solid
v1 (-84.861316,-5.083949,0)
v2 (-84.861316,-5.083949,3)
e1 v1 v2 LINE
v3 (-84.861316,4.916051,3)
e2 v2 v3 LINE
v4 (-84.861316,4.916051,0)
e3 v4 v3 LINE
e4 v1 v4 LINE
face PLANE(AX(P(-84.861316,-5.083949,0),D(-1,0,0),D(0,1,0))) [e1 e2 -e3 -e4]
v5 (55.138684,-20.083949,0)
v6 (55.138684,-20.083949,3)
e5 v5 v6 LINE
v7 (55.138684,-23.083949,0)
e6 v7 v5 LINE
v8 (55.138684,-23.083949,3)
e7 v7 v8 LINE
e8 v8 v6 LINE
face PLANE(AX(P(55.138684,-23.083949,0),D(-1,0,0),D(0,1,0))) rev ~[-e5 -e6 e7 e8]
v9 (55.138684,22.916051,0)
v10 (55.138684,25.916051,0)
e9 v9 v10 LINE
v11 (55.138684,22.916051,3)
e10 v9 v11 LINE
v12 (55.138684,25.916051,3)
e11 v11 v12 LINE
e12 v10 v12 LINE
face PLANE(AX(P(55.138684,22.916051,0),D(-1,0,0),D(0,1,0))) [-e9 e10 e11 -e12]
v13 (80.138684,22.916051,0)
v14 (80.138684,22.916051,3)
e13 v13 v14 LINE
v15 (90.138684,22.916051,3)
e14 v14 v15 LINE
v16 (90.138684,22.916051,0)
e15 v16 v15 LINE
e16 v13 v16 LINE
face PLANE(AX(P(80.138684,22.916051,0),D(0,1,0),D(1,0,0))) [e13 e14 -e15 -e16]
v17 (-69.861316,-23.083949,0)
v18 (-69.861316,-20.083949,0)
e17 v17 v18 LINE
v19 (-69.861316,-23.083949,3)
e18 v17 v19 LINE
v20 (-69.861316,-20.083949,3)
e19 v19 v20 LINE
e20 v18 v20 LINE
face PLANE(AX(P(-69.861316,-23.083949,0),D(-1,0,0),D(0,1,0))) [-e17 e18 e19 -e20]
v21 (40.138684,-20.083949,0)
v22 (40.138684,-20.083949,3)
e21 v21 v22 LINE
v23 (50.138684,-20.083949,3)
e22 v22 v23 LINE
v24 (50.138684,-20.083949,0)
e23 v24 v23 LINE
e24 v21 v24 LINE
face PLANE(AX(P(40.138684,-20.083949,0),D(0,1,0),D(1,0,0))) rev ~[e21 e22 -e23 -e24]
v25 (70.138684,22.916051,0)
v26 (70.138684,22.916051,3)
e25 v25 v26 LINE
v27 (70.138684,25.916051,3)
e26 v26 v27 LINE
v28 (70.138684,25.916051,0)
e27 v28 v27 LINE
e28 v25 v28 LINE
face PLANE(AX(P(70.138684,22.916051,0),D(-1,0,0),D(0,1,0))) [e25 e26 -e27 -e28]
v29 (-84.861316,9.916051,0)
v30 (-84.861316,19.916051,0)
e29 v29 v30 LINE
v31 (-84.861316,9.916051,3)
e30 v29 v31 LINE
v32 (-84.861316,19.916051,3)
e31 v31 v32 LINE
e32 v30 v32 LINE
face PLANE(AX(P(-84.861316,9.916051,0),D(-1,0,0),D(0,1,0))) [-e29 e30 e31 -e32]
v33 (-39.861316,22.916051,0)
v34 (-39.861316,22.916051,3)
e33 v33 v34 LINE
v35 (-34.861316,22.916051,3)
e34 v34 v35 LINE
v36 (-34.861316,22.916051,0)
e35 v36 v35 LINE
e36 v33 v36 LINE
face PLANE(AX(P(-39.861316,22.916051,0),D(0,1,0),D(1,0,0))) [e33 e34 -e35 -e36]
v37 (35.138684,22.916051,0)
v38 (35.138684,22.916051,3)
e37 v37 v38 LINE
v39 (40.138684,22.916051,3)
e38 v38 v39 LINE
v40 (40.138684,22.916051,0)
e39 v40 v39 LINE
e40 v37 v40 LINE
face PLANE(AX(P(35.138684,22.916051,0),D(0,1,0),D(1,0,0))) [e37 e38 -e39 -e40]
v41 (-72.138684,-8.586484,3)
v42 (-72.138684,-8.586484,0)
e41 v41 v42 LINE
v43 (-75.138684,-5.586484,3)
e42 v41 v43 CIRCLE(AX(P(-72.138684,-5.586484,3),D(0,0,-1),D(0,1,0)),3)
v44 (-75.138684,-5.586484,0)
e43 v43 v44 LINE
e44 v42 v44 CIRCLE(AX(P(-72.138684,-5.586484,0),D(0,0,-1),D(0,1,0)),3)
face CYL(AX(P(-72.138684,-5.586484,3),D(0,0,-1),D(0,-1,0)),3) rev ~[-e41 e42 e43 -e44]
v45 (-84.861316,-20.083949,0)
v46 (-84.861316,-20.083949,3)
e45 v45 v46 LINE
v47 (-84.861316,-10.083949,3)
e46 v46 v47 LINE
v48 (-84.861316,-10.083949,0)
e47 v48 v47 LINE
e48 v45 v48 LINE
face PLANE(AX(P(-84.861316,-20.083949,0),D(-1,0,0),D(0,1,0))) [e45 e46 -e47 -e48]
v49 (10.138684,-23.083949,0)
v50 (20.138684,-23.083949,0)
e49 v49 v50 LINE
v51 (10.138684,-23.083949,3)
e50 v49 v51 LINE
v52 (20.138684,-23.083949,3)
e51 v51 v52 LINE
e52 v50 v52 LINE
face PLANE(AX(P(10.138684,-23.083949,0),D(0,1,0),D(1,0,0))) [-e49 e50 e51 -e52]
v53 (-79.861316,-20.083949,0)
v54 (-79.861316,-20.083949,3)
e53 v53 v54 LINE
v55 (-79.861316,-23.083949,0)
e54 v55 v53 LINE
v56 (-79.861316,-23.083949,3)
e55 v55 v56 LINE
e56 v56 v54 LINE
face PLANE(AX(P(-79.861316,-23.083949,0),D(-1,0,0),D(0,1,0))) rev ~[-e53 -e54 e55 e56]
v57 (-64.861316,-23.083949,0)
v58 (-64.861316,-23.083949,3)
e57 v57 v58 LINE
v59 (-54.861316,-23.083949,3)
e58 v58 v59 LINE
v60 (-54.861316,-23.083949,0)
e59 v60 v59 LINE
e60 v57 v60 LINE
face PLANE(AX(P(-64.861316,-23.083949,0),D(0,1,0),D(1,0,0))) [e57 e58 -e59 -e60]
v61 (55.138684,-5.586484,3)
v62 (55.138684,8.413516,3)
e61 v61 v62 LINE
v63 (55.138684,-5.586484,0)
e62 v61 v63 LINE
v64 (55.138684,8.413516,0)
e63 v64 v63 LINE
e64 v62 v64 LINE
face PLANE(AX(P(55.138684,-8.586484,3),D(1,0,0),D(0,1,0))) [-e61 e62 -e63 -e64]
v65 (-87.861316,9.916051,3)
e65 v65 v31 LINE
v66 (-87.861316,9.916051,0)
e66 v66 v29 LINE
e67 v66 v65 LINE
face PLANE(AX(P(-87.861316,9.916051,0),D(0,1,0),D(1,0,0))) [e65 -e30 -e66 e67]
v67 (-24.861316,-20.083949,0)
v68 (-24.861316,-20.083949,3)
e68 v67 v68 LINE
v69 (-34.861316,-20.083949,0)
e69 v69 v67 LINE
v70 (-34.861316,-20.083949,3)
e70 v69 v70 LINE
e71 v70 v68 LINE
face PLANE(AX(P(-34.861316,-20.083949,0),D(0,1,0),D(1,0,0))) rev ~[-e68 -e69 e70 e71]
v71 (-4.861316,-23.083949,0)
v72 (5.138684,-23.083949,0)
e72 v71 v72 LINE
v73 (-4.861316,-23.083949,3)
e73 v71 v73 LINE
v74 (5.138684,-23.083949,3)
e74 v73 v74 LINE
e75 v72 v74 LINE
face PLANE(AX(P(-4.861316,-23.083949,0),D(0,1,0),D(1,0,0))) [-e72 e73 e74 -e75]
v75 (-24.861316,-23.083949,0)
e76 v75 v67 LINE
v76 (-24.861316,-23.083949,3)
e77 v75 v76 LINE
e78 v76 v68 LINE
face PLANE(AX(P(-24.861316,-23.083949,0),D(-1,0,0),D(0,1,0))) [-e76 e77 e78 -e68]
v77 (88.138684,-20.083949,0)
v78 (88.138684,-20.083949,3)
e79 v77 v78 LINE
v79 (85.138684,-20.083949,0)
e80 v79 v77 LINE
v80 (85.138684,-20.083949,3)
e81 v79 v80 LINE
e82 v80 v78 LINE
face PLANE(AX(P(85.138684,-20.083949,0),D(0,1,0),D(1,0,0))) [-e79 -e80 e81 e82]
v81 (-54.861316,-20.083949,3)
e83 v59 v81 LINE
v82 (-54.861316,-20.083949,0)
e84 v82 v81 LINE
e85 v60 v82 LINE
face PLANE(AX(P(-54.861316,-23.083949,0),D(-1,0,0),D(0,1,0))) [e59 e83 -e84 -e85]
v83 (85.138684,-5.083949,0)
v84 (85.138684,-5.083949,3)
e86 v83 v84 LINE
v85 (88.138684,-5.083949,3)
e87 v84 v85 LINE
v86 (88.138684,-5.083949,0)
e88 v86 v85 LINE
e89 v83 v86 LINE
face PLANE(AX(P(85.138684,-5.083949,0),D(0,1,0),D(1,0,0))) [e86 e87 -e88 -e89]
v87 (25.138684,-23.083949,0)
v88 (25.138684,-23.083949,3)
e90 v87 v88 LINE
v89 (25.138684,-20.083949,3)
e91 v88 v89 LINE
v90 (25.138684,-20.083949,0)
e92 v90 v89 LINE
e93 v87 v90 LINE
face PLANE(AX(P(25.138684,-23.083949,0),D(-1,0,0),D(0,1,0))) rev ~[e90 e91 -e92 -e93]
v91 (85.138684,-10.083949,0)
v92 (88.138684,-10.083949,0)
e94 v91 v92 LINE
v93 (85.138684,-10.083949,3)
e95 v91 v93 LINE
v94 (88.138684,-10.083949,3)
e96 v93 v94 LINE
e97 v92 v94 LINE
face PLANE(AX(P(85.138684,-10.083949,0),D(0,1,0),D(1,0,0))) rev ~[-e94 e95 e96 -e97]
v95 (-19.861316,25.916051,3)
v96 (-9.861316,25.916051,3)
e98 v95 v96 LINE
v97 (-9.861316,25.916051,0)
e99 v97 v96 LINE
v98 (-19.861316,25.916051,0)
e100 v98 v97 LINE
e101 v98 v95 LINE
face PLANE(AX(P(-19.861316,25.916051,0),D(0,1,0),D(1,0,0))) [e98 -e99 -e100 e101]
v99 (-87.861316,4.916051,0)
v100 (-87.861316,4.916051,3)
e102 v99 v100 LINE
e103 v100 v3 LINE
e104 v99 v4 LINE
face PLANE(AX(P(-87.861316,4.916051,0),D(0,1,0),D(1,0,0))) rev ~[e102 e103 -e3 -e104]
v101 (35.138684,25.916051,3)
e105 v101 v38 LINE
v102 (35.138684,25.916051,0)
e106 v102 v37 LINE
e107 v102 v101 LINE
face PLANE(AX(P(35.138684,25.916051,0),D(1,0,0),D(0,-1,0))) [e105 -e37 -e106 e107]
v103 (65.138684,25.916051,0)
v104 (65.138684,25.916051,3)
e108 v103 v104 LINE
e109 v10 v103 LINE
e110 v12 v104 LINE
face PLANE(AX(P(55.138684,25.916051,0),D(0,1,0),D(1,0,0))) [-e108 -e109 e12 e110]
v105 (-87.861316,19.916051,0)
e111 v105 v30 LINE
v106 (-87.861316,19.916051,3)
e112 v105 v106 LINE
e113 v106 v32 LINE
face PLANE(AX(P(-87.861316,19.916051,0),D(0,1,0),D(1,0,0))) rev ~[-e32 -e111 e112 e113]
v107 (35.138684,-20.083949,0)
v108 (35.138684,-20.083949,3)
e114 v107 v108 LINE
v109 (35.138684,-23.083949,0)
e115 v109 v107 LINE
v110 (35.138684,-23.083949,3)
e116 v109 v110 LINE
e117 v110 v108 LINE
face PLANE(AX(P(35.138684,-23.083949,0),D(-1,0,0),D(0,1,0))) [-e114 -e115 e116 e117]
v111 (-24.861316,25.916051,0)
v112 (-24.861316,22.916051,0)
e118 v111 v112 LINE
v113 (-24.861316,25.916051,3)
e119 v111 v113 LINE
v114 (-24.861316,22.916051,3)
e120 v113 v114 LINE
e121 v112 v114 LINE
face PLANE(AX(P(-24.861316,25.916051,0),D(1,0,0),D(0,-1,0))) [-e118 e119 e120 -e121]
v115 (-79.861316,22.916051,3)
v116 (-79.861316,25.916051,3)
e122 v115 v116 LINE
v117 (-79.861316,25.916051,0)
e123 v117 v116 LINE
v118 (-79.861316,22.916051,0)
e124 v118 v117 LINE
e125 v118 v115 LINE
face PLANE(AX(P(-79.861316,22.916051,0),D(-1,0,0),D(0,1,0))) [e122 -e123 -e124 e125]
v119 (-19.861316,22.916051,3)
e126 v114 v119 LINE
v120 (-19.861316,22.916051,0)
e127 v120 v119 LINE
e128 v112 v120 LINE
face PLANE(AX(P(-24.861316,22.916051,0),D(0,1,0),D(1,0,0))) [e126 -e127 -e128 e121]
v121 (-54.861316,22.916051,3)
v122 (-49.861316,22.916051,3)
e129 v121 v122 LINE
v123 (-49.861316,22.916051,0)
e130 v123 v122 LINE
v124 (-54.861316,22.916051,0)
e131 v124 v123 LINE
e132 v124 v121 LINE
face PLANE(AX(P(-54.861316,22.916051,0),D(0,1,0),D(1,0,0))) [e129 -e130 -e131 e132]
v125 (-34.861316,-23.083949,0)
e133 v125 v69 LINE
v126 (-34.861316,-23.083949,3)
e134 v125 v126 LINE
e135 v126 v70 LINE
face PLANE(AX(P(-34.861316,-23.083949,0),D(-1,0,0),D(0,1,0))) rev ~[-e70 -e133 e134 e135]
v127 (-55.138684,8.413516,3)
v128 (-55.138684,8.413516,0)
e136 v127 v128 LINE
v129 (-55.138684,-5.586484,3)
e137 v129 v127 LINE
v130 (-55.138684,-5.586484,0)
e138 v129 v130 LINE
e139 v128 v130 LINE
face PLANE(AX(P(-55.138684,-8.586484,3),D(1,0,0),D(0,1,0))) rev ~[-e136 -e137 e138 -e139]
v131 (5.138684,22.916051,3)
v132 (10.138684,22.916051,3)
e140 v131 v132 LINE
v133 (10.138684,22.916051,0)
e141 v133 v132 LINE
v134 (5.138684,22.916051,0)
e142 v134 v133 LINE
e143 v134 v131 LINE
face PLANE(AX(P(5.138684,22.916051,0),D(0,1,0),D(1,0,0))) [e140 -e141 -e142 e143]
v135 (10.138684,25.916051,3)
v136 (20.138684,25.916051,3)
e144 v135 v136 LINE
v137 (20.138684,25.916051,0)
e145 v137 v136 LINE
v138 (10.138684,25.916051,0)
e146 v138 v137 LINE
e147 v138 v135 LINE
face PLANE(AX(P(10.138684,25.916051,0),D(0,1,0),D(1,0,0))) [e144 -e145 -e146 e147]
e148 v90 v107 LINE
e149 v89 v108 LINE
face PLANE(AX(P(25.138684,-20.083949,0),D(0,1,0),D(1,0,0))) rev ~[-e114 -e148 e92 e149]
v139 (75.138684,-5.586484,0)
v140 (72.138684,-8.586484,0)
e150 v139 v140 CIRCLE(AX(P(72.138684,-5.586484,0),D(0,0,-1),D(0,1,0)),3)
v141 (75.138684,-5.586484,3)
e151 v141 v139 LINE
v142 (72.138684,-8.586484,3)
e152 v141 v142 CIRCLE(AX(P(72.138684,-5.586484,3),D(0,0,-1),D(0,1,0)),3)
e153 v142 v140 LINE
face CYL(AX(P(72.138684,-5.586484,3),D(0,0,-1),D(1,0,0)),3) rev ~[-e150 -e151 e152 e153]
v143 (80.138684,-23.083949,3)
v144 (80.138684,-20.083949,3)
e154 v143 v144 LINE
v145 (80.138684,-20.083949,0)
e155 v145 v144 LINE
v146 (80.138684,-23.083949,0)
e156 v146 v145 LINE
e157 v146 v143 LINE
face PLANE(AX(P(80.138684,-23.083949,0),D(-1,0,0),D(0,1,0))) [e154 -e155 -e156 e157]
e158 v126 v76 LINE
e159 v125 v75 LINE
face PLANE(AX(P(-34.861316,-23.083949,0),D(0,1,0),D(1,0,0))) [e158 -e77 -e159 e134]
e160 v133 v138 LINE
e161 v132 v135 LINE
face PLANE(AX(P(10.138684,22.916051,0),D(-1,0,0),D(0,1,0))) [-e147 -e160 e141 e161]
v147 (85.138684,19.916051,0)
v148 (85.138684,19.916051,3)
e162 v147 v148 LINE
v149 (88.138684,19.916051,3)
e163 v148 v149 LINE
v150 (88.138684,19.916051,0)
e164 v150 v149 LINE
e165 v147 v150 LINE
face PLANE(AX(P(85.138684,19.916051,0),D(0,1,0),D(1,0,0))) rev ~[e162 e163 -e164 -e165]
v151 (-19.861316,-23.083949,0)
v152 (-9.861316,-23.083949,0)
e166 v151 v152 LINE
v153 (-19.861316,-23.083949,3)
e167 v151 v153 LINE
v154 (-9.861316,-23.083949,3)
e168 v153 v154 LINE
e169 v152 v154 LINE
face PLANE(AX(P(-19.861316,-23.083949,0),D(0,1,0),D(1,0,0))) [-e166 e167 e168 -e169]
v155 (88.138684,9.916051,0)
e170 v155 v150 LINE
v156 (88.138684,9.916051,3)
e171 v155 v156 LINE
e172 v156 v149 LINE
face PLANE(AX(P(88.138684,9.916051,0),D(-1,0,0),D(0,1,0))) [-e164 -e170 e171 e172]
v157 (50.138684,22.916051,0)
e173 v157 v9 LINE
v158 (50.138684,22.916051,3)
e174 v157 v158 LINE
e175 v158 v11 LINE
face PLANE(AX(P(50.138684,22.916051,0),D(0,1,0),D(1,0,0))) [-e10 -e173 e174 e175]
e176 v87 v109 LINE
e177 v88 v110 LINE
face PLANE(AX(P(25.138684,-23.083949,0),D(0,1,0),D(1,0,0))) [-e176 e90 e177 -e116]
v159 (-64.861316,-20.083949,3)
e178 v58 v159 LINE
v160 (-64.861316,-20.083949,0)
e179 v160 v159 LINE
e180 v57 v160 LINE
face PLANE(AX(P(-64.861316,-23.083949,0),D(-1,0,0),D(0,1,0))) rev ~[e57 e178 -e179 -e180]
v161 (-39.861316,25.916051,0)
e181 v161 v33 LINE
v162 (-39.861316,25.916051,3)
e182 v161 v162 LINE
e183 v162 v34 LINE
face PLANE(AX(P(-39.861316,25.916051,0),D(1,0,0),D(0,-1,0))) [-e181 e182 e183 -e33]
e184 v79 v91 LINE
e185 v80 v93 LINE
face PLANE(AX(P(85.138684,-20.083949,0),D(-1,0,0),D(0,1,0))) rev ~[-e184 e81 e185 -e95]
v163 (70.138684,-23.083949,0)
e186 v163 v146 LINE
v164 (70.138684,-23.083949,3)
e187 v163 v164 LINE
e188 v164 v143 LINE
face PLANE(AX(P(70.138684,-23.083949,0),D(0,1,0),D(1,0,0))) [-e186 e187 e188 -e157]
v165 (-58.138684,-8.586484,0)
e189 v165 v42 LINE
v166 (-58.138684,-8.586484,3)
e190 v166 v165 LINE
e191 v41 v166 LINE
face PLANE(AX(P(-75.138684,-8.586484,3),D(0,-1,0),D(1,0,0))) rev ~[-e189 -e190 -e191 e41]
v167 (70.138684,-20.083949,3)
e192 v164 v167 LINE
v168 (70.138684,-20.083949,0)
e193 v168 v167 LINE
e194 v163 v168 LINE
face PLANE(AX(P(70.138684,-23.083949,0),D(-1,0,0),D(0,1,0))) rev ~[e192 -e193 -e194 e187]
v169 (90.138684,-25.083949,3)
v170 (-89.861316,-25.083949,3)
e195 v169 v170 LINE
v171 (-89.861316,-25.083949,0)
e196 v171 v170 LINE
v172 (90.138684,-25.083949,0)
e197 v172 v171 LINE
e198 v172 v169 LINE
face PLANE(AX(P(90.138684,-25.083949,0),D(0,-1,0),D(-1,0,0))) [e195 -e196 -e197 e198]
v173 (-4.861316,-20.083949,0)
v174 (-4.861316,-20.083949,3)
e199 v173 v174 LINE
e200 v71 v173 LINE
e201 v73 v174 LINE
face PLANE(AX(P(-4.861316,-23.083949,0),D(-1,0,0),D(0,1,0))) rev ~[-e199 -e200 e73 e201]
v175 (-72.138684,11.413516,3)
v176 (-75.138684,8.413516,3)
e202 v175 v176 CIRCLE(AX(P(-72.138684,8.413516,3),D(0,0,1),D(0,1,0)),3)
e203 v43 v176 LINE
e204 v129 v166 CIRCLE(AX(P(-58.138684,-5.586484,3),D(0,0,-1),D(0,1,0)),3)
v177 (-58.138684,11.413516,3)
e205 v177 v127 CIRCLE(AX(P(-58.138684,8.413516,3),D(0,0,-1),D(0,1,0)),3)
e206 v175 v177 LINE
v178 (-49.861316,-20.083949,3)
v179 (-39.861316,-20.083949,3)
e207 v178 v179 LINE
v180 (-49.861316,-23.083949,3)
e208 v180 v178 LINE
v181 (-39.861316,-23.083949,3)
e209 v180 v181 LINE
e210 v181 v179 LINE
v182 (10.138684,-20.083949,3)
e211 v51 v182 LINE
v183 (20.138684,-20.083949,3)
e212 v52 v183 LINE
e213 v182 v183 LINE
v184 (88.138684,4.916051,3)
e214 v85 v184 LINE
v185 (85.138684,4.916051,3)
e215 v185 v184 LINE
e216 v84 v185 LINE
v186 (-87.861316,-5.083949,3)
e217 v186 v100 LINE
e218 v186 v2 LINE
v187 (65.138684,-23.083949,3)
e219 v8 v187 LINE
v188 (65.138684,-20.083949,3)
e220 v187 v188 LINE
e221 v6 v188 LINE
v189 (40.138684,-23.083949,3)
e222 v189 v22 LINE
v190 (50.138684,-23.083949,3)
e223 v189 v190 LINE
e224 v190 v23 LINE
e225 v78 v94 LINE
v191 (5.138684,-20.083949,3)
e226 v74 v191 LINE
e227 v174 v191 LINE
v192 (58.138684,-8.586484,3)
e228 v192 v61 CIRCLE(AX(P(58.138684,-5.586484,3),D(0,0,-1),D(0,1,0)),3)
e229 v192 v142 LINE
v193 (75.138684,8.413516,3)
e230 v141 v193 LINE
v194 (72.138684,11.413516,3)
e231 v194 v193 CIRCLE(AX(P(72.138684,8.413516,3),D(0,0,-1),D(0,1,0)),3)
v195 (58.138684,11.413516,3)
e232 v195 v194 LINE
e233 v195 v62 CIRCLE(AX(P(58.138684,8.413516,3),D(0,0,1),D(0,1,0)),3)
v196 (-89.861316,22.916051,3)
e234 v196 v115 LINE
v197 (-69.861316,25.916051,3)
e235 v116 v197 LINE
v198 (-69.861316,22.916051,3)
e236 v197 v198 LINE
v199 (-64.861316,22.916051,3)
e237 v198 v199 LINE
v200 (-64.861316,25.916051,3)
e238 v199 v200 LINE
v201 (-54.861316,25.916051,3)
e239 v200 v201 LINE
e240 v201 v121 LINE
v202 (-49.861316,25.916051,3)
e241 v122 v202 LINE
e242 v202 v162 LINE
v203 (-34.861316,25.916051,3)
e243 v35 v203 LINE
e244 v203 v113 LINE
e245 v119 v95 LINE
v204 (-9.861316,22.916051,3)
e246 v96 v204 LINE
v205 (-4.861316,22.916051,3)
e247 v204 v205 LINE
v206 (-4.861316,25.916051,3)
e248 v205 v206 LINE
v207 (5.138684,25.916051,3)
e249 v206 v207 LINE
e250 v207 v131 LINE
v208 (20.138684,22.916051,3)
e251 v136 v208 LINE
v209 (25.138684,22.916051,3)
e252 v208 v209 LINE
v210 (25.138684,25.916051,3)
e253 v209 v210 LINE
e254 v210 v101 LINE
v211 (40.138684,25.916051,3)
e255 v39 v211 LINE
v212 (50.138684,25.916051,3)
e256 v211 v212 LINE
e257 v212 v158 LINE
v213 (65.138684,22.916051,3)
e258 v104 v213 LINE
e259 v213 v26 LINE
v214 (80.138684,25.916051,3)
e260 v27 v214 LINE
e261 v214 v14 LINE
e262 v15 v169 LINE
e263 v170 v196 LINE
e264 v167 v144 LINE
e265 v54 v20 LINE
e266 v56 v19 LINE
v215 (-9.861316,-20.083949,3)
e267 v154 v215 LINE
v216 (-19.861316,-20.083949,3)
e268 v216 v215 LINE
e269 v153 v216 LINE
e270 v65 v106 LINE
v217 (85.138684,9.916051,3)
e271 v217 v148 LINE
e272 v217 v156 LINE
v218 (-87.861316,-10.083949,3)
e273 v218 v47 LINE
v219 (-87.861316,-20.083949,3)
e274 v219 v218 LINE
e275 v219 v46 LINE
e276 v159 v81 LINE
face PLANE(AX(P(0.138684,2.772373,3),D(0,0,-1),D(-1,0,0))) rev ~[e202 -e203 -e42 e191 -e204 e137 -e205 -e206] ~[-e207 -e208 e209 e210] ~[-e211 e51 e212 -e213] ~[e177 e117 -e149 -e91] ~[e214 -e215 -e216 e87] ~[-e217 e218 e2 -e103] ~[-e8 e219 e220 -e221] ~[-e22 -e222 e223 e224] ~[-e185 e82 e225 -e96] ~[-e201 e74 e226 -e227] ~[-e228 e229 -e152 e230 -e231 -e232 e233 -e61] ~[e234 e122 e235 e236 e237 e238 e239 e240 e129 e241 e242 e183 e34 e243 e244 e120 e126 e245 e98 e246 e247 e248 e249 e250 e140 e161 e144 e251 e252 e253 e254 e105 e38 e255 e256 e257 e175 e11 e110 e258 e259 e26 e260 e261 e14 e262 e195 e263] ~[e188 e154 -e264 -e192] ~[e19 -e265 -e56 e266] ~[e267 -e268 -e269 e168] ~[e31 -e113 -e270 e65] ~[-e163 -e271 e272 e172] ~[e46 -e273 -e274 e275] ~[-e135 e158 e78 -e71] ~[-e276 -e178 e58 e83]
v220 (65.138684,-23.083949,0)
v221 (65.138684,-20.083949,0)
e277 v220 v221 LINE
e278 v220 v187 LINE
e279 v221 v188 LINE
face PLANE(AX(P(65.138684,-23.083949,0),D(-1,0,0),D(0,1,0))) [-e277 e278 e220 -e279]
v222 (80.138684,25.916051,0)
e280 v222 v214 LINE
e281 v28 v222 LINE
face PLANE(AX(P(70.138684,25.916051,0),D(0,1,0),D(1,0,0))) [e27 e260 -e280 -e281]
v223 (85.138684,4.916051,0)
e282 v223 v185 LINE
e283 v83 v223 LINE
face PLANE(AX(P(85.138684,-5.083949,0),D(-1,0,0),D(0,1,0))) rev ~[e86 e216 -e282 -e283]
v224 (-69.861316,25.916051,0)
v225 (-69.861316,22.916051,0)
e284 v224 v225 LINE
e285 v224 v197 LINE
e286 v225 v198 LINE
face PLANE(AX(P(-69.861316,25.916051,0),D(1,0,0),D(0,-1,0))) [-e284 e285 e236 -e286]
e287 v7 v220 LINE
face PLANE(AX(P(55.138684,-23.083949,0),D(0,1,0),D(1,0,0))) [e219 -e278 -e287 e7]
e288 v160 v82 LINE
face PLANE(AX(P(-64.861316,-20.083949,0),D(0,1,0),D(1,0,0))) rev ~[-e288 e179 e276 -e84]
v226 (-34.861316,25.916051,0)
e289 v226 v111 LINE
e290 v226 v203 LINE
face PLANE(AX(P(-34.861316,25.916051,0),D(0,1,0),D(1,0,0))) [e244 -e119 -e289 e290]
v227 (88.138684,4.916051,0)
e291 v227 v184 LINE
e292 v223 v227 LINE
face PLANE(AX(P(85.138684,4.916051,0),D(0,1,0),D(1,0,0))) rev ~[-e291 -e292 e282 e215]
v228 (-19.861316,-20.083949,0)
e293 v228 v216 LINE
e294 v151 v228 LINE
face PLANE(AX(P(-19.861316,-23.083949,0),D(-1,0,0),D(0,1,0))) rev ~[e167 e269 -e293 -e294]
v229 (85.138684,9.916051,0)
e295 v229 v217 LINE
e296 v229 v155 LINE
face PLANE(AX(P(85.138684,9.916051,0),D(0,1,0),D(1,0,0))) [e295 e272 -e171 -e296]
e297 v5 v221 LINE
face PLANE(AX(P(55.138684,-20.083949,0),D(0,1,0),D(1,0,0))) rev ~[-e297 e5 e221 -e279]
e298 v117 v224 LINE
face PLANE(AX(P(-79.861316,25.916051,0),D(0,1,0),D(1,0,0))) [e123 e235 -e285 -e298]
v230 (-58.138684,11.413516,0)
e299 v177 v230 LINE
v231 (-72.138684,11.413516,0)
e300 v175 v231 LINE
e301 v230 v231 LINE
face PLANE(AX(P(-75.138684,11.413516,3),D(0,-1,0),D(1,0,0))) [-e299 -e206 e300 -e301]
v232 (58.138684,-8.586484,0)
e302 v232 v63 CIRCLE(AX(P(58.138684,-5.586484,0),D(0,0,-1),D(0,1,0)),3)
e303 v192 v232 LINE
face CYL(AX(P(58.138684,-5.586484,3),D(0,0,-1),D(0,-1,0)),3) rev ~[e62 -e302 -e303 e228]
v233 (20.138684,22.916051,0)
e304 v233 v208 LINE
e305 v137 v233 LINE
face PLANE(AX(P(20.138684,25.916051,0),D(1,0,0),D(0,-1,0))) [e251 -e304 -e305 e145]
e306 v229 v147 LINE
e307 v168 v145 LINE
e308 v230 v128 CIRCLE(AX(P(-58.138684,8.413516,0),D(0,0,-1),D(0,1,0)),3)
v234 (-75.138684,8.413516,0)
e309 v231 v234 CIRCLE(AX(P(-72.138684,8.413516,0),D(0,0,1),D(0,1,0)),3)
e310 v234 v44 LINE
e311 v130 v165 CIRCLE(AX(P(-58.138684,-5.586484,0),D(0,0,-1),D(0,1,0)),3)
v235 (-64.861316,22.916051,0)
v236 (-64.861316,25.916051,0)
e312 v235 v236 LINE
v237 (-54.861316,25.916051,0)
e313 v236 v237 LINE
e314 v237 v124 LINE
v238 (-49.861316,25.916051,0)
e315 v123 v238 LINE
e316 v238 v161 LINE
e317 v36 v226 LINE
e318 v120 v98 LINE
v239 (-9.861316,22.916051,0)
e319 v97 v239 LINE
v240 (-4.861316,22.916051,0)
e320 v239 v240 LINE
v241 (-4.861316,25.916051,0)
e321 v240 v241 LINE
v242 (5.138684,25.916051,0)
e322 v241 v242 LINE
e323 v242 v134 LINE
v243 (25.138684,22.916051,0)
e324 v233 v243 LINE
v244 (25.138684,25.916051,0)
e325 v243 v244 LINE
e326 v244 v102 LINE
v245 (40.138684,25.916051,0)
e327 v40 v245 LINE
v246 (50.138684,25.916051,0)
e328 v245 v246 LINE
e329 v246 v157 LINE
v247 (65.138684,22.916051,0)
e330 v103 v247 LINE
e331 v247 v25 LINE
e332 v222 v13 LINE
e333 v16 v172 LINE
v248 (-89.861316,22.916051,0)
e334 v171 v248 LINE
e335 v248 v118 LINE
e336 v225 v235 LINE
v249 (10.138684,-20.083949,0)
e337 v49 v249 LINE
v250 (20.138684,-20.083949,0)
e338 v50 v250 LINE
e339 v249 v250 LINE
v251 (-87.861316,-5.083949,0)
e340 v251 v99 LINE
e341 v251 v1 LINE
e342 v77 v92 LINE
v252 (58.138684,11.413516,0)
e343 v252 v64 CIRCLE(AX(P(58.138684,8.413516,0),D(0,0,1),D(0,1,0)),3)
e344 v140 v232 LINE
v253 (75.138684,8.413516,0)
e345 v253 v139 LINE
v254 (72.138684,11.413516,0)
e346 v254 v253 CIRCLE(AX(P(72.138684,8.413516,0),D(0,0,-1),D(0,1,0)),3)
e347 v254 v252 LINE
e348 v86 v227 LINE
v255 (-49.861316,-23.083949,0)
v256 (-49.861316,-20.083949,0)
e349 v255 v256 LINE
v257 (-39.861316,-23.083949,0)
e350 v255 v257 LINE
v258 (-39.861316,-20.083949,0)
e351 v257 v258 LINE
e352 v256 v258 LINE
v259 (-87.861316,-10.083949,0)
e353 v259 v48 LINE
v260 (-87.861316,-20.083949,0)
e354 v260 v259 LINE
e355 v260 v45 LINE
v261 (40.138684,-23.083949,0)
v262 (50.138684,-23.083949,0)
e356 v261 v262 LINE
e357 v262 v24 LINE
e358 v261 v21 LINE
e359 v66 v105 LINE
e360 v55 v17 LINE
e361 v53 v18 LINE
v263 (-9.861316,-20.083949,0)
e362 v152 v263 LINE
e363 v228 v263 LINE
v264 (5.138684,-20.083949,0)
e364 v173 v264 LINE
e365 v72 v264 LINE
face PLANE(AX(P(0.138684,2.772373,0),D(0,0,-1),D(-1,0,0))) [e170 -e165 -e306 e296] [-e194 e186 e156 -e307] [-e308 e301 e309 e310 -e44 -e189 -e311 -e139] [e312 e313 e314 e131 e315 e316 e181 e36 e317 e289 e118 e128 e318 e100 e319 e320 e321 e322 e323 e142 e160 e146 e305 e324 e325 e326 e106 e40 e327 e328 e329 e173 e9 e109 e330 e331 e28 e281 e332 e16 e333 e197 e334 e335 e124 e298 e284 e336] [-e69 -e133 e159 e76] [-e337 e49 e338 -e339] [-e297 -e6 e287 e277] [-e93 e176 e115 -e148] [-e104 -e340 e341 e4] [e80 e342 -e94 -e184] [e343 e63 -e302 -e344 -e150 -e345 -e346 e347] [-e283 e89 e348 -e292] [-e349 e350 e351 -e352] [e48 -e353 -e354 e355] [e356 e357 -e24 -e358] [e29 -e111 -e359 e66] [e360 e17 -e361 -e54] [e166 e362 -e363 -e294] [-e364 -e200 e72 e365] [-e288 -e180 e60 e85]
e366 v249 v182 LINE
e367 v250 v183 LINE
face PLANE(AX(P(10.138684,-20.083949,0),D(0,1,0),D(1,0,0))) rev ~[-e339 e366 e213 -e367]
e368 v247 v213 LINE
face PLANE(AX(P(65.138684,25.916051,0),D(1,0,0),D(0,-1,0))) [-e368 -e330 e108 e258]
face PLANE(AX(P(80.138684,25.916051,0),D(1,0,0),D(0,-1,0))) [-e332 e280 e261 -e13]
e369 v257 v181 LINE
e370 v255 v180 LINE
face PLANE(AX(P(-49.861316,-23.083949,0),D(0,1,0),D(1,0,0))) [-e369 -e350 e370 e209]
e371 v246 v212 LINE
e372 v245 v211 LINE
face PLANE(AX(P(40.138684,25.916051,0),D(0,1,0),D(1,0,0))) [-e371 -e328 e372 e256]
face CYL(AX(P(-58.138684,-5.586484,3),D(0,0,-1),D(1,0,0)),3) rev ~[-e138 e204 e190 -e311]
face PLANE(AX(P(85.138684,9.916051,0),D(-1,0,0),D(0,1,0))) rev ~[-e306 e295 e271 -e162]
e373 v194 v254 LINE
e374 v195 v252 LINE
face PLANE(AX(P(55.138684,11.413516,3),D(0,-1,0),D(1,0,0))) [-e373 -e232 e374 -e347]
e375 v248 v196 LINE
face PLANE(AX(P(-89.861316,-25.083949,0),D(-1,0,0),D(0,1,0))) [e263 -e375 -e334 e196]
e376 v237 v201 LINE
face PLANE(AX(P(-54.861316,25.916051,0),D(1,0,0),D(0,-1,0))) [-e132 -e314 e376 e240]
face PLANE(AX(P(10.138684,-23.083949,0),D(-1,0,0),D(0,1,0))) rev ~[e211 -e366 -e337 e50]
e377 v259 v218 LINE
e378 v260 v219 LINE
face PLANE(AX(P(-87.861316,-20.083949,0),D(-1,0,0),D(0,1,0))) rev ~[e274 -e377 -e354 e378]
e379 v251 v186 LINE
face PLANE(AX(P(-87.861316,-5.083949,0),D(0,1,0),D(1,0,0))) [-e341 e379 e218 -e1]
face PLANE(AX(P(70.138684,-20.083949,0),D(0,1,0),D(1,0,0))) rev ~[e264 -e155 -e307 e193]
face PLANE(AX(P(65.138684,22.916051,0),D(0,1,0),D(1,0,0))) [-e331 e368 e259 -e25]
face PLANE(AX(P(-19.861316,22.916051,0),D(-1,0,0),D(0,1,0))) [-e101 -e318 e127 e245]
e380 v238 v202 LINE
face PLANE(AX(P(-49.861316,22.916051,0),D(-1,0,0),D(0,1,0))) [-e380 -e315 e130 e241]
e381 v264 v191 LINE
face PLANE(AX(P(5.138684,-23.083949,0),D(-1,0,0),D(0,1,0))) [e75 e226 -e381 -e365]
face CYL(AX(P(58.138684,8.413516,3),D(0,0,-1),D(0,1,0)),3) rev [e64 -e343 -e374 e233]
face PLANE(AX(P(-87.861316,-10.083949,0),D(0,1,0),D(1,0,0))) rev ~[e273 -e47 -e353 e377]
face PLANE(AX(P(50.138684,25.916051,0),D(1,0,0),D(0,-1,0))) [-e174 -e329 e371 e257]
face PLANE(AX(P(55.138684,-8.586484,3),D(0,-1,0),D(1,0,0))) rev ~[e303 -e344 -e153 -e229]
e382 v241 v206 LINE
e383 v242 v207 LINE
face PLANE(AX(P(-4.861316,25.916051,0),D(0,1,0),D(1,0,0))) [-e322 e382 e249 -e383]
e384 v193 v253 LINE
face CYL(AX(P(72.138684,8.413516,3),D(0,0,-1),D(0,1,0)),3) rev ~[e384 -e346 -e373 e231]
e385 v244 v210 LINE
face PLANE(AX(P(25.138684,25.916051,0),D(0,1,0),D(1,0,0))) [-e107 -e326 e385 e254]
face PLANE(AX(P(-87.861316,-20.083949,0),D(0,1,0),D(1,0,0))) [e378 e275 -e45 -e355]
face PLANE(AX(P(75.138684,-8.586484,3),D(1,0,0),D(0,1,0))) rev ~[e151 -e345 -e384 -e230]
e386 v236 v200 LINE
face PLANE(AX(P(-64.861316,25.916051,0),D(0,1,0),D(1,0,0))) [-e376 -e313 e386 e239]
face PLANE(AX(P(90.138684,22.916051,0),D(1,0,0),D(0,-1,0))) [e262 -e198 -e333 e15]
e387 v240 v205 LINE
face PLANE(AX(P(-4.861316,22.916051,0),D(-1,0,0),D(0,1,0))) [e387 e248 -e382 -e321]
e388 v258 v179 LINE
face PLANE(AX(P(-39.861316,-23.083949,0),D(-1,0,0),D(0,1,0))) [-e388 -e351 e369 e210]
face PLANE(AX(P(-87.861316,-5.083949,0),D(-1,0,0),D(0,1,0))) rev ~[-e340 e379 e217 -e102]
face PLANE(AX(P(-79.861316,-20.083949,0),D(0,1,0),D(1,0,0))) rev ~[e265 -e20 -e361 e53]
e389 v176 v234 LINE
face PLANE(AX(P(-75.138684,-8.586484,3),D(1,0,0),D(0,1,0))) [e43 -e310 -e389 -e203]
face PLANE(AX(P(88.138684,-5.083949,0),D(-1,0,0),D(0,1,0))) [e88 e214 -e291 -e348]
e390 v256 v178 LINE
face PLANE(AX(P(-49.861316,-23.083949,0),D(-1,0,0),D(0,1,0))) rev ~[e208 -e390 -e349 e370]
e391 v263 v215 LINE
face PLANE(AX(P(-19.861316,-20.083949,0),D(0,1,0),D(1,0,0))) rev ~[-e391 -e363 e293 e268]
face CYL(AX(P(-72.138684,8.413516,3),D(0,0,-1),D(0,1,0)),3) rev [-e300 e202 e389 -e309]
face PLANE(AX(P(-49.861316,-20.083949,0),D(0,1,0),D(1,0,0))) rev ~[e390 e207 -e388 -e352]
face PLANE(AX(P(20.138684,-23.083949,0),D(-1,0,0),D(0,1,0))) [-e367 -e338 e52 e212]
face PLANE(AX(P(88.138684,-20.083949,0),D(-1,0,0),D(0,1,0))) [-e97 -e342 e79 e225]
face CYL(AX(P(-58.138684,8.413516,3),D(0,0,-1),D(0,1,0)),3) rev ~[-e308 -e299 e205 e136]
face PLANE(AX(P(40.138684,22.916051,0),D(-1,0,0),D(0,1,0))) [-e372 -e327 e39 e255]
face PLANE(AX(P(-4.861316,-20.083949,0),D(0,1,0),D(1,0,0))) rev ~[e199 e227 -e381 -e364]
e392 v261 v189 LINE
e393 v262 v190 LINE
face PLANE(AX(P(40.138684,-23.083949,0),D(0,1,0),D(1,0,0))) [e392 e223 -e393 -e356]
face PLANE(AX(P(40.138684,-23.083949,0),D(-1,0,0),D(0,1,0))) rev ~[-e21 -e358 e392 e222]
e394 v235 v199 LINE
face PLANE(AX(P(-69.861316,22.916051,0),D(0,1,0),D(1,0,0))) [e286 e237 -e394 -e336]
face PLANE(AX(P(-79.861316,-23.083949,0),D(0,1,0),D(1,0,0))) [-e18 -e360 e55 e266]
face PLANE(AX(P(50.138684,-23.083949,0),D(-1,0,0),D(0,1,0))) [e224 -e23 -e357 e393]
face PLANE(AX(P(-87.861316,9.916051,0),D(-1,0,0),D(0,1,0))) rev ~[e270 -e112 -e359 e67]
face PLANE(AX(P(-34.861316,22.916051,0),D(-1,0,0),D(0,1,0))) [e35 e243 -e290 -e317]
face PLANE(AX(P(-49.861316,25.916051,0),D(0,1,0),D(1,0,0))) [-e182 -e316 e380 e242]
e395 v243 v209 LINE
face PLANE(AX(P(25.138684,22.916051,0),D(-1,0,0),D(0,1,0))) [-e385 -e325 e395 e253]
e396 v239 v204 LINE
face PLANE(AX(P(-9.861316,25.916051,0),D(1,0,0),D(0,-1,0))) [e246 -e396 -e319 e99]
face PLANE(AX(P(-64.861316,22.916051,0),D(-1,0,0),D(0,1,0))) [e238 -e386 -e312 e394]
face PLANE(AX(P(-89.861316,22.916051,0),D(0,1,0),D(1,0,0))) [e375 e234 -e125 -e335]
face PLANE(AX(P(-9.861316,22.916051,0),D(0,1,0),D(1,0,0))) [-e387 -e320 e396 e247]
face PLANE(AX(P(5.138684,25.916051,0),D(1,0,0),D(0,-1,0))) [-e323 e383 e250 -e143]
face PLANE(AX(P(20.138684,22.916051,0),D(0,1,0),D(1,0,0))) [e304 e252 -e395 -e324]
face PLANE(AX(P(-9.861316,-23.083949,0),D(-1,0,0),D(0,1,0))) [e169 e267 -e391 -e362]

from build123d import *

# Parameters (mm, degrees)
SKETCH_1_W          = 3
SKETCH_1_H          = 10
SKETCH_1_W_2        = 10
SKETCH_1_H_2        = 3
EXTRUDE_1_DEPTH     = 3
SKETCH_2_W          = 20
SKETCH_2_H          = 20
CUT_EXTRUDE_1_DEPTH = 10
FILLET_1_R          = 3


with BuildPart() as part:
    # 草图1 → 凸台-拉伸1 (new body)
    with BuildSketch(Plane.XY):
        Polygon((-89.861316177, 22.916051468), (-79.861316177, 22.916051468), (-79.861316177, 25.916051468), (-69.861316177, 25.916051468), (-69.861316177, 22.916051468), (-64.861316177, 22.916051468), (-64.861316177, 25.916051468), (-54.861316177, 25.916051468), (-54.861316177, 22.916051468), (-49.861316177, 22.916051468), (-49.861316177, 25.916051468), (-39.861316177, 25.916051468), (-39.861316177, 22.916051468), (-34.861316177, 22.916051468), (-34.861316177, 25.916051468), (-24.861316177, 25.916051468), (-24.861316177, 22.916051468), (-19.861316177, 22.916051468), (-19.861316177, 25.916051468), (-9.861316177, 25.916051468), (-9.861316177, 22.916051468), (-4.861316177, 22.916051468), (-4.861316177, 25.916051468), (5.138683823, 25.916051468), (5.138683823, 22.916051468), (10.138683823, 22.916051468), (10.138683823, 25.916051468), (20.138683823, 25.916051468), (20.138683823, 22.916051468), (25.138683823, 22.916051468), (25.138683823, 25.916051468), (35.138683823, 25.916051468), (35.138683823, 22.916051468), (40.138683823, 22.916051468), (40.138683823, 25.916051468), (50.138683823, 25.916051468), (50.138683823, 22.916051468), (55.138683823, 22.916051468), (55.138683823, 25.916051468), (65.138683823, 25.916051468), (65.138683823, 22.916051468), (70.138683823, 22.916051468), (70.138683823, 25.916051468), (80.138683823, 25.916051468), (80.138683823, 22.916051468), (90.138683823, 22.916051468), (90.138683823, -25.083948532), (-89.861316177, -25.083948532), align=None)
        with Locations((-86.361316177, -0.083948532)):
            Rectangle(SKETCH_1_W, SKETCH_1_H, mode=Mode.SUBTRACT)
        with Locations((-86.361316177, 14.916051468)):
            Rectangle(SKETCH_1_W, SKETCH_1_H, mode=Mode.SUBTRACT)
        with Locations((-86.361316177, -15.083948532)):
            Rectangle(SKETCH_1_W, SKETCH_1_H, mode=Mode.SUBTRACT)
        with Locations((86.638683823, -15.083948532)):
            Rectangle(SKETCH_1_W, SKETCH_1_H, mode=Mode.SUBTRACT)
        with Locations((86.638683823, -0.083948532)):
            Rectangle(SKETCH_1_W, SKETCH_1_H, mode=Mode.SUBTRACT)
        with Locations((86.638683823, 14.916051468)):
            Rectangle(SKETCH_1_W, SKETCH_1_H, mode=Mode.SUBTRACT)
        with Locations((-59.861316177, -21.583948532)):
            Rectangle(SKETCH_1_W_2, SKETCH_1_H_2, mode=Mode.SUBTRACT)
        with Locations((-74.861316177, -21.583948532)):
            Rectangle(SKETCH_1_W_2, SKETCH_1_H_2, mode=Mode.SUBTRACT)
        with Locations((-44.861316177, -21.583948532)):
            Rectangle(SKETCH_1_W_2, SKETCH_1_H_2, mode=Mode.SUBTRACT)
        with Locations((-29.861316177, -21.583948532)):
            Rectangle(SKETCH_1_W_2, SKETCH_1_H_2, mode=Mode.SUBTRACT)
        with Locations((-14.861316177, -21.583948532)):
            Rectangle(SKETCH_1_W_2, SKETCH_1_H_2, mode=Mode.SUBTRACT)
        with Locations((0.138683823, -21.583948532)):
            Rectangle(SKETCH_1_W_2, SKETCH_1_H_2, mode=Mode.SUBTRACT)
        with Locations((15.138683823, -21.583948532)):
            Rectangle(SKETCH_1_W_2, SKETCH_1_H_2, mode=Mode.SUBTRACT)
        with Locations((30.138683823, -21.583948532)):
            Rectangle(SKETCH_1_W_2, SKETCH_1_H_2, mode=Mode.SUBTRACT)
        with Locations((45.138683823, -21.583948532)):
            Rectangle(SKETCH_1_W_2, SKETCH_1_H_2, mode=Mode.SUBTRACT)
        with Locations((60.138683823, -21.583948532)):
            Rectangle(SKETCH_1_W_2, SKETCH_1_H_2, mode=Mode.SUBTRACT)
        with Locations((75.138683823, -21.583948532)):
            Rectangle(SKETCH_1_W_2, SKETCH_1_H_2, mode=Mode.SUBTRACT)
    extrude(amount=EXTRUDE_1_DEPTH)

    # 草图2 → 切除-拉伸1 (cut)
    with BuildSketch(Plane.XY.offset(3)):
        with Locations((65.138683823, 1.413515523)):
            Rectangle(SKETCH_2_W, SKETCH_2_H)
        with Locations((-65.138683823, 1.413515523)):
            Rectangle(SKETCH_2_W, SKETCH_2_H)
    extrude(amount=-CUT_EXTRUDE_1_DEPTH, mode=Mode.SUBTRACT)

    # 圆角1
    fillet_1_edges = [part.edges().sort_by_distance(p)[0] for p in [
        (75.138683823, 11.413515523, 1.5),
        (75.138683823, -8.586484477, 1.5),
        (55.138683823, -8.586484477, 1.5),
        (55.138683823, 11.413515523, 1.5),
        (-55.138683823, 11.413515523, 1.5),
        (-55.138683823, -8.586484477, 1.5),
        (-75.138683823, -8.586484477, 1.5),
        (-75.138683823, 11.413515523, 1.5),
    ]]
    fillet(fillet_1_edges, radius=FILLET_1_R)


solid = part.part
